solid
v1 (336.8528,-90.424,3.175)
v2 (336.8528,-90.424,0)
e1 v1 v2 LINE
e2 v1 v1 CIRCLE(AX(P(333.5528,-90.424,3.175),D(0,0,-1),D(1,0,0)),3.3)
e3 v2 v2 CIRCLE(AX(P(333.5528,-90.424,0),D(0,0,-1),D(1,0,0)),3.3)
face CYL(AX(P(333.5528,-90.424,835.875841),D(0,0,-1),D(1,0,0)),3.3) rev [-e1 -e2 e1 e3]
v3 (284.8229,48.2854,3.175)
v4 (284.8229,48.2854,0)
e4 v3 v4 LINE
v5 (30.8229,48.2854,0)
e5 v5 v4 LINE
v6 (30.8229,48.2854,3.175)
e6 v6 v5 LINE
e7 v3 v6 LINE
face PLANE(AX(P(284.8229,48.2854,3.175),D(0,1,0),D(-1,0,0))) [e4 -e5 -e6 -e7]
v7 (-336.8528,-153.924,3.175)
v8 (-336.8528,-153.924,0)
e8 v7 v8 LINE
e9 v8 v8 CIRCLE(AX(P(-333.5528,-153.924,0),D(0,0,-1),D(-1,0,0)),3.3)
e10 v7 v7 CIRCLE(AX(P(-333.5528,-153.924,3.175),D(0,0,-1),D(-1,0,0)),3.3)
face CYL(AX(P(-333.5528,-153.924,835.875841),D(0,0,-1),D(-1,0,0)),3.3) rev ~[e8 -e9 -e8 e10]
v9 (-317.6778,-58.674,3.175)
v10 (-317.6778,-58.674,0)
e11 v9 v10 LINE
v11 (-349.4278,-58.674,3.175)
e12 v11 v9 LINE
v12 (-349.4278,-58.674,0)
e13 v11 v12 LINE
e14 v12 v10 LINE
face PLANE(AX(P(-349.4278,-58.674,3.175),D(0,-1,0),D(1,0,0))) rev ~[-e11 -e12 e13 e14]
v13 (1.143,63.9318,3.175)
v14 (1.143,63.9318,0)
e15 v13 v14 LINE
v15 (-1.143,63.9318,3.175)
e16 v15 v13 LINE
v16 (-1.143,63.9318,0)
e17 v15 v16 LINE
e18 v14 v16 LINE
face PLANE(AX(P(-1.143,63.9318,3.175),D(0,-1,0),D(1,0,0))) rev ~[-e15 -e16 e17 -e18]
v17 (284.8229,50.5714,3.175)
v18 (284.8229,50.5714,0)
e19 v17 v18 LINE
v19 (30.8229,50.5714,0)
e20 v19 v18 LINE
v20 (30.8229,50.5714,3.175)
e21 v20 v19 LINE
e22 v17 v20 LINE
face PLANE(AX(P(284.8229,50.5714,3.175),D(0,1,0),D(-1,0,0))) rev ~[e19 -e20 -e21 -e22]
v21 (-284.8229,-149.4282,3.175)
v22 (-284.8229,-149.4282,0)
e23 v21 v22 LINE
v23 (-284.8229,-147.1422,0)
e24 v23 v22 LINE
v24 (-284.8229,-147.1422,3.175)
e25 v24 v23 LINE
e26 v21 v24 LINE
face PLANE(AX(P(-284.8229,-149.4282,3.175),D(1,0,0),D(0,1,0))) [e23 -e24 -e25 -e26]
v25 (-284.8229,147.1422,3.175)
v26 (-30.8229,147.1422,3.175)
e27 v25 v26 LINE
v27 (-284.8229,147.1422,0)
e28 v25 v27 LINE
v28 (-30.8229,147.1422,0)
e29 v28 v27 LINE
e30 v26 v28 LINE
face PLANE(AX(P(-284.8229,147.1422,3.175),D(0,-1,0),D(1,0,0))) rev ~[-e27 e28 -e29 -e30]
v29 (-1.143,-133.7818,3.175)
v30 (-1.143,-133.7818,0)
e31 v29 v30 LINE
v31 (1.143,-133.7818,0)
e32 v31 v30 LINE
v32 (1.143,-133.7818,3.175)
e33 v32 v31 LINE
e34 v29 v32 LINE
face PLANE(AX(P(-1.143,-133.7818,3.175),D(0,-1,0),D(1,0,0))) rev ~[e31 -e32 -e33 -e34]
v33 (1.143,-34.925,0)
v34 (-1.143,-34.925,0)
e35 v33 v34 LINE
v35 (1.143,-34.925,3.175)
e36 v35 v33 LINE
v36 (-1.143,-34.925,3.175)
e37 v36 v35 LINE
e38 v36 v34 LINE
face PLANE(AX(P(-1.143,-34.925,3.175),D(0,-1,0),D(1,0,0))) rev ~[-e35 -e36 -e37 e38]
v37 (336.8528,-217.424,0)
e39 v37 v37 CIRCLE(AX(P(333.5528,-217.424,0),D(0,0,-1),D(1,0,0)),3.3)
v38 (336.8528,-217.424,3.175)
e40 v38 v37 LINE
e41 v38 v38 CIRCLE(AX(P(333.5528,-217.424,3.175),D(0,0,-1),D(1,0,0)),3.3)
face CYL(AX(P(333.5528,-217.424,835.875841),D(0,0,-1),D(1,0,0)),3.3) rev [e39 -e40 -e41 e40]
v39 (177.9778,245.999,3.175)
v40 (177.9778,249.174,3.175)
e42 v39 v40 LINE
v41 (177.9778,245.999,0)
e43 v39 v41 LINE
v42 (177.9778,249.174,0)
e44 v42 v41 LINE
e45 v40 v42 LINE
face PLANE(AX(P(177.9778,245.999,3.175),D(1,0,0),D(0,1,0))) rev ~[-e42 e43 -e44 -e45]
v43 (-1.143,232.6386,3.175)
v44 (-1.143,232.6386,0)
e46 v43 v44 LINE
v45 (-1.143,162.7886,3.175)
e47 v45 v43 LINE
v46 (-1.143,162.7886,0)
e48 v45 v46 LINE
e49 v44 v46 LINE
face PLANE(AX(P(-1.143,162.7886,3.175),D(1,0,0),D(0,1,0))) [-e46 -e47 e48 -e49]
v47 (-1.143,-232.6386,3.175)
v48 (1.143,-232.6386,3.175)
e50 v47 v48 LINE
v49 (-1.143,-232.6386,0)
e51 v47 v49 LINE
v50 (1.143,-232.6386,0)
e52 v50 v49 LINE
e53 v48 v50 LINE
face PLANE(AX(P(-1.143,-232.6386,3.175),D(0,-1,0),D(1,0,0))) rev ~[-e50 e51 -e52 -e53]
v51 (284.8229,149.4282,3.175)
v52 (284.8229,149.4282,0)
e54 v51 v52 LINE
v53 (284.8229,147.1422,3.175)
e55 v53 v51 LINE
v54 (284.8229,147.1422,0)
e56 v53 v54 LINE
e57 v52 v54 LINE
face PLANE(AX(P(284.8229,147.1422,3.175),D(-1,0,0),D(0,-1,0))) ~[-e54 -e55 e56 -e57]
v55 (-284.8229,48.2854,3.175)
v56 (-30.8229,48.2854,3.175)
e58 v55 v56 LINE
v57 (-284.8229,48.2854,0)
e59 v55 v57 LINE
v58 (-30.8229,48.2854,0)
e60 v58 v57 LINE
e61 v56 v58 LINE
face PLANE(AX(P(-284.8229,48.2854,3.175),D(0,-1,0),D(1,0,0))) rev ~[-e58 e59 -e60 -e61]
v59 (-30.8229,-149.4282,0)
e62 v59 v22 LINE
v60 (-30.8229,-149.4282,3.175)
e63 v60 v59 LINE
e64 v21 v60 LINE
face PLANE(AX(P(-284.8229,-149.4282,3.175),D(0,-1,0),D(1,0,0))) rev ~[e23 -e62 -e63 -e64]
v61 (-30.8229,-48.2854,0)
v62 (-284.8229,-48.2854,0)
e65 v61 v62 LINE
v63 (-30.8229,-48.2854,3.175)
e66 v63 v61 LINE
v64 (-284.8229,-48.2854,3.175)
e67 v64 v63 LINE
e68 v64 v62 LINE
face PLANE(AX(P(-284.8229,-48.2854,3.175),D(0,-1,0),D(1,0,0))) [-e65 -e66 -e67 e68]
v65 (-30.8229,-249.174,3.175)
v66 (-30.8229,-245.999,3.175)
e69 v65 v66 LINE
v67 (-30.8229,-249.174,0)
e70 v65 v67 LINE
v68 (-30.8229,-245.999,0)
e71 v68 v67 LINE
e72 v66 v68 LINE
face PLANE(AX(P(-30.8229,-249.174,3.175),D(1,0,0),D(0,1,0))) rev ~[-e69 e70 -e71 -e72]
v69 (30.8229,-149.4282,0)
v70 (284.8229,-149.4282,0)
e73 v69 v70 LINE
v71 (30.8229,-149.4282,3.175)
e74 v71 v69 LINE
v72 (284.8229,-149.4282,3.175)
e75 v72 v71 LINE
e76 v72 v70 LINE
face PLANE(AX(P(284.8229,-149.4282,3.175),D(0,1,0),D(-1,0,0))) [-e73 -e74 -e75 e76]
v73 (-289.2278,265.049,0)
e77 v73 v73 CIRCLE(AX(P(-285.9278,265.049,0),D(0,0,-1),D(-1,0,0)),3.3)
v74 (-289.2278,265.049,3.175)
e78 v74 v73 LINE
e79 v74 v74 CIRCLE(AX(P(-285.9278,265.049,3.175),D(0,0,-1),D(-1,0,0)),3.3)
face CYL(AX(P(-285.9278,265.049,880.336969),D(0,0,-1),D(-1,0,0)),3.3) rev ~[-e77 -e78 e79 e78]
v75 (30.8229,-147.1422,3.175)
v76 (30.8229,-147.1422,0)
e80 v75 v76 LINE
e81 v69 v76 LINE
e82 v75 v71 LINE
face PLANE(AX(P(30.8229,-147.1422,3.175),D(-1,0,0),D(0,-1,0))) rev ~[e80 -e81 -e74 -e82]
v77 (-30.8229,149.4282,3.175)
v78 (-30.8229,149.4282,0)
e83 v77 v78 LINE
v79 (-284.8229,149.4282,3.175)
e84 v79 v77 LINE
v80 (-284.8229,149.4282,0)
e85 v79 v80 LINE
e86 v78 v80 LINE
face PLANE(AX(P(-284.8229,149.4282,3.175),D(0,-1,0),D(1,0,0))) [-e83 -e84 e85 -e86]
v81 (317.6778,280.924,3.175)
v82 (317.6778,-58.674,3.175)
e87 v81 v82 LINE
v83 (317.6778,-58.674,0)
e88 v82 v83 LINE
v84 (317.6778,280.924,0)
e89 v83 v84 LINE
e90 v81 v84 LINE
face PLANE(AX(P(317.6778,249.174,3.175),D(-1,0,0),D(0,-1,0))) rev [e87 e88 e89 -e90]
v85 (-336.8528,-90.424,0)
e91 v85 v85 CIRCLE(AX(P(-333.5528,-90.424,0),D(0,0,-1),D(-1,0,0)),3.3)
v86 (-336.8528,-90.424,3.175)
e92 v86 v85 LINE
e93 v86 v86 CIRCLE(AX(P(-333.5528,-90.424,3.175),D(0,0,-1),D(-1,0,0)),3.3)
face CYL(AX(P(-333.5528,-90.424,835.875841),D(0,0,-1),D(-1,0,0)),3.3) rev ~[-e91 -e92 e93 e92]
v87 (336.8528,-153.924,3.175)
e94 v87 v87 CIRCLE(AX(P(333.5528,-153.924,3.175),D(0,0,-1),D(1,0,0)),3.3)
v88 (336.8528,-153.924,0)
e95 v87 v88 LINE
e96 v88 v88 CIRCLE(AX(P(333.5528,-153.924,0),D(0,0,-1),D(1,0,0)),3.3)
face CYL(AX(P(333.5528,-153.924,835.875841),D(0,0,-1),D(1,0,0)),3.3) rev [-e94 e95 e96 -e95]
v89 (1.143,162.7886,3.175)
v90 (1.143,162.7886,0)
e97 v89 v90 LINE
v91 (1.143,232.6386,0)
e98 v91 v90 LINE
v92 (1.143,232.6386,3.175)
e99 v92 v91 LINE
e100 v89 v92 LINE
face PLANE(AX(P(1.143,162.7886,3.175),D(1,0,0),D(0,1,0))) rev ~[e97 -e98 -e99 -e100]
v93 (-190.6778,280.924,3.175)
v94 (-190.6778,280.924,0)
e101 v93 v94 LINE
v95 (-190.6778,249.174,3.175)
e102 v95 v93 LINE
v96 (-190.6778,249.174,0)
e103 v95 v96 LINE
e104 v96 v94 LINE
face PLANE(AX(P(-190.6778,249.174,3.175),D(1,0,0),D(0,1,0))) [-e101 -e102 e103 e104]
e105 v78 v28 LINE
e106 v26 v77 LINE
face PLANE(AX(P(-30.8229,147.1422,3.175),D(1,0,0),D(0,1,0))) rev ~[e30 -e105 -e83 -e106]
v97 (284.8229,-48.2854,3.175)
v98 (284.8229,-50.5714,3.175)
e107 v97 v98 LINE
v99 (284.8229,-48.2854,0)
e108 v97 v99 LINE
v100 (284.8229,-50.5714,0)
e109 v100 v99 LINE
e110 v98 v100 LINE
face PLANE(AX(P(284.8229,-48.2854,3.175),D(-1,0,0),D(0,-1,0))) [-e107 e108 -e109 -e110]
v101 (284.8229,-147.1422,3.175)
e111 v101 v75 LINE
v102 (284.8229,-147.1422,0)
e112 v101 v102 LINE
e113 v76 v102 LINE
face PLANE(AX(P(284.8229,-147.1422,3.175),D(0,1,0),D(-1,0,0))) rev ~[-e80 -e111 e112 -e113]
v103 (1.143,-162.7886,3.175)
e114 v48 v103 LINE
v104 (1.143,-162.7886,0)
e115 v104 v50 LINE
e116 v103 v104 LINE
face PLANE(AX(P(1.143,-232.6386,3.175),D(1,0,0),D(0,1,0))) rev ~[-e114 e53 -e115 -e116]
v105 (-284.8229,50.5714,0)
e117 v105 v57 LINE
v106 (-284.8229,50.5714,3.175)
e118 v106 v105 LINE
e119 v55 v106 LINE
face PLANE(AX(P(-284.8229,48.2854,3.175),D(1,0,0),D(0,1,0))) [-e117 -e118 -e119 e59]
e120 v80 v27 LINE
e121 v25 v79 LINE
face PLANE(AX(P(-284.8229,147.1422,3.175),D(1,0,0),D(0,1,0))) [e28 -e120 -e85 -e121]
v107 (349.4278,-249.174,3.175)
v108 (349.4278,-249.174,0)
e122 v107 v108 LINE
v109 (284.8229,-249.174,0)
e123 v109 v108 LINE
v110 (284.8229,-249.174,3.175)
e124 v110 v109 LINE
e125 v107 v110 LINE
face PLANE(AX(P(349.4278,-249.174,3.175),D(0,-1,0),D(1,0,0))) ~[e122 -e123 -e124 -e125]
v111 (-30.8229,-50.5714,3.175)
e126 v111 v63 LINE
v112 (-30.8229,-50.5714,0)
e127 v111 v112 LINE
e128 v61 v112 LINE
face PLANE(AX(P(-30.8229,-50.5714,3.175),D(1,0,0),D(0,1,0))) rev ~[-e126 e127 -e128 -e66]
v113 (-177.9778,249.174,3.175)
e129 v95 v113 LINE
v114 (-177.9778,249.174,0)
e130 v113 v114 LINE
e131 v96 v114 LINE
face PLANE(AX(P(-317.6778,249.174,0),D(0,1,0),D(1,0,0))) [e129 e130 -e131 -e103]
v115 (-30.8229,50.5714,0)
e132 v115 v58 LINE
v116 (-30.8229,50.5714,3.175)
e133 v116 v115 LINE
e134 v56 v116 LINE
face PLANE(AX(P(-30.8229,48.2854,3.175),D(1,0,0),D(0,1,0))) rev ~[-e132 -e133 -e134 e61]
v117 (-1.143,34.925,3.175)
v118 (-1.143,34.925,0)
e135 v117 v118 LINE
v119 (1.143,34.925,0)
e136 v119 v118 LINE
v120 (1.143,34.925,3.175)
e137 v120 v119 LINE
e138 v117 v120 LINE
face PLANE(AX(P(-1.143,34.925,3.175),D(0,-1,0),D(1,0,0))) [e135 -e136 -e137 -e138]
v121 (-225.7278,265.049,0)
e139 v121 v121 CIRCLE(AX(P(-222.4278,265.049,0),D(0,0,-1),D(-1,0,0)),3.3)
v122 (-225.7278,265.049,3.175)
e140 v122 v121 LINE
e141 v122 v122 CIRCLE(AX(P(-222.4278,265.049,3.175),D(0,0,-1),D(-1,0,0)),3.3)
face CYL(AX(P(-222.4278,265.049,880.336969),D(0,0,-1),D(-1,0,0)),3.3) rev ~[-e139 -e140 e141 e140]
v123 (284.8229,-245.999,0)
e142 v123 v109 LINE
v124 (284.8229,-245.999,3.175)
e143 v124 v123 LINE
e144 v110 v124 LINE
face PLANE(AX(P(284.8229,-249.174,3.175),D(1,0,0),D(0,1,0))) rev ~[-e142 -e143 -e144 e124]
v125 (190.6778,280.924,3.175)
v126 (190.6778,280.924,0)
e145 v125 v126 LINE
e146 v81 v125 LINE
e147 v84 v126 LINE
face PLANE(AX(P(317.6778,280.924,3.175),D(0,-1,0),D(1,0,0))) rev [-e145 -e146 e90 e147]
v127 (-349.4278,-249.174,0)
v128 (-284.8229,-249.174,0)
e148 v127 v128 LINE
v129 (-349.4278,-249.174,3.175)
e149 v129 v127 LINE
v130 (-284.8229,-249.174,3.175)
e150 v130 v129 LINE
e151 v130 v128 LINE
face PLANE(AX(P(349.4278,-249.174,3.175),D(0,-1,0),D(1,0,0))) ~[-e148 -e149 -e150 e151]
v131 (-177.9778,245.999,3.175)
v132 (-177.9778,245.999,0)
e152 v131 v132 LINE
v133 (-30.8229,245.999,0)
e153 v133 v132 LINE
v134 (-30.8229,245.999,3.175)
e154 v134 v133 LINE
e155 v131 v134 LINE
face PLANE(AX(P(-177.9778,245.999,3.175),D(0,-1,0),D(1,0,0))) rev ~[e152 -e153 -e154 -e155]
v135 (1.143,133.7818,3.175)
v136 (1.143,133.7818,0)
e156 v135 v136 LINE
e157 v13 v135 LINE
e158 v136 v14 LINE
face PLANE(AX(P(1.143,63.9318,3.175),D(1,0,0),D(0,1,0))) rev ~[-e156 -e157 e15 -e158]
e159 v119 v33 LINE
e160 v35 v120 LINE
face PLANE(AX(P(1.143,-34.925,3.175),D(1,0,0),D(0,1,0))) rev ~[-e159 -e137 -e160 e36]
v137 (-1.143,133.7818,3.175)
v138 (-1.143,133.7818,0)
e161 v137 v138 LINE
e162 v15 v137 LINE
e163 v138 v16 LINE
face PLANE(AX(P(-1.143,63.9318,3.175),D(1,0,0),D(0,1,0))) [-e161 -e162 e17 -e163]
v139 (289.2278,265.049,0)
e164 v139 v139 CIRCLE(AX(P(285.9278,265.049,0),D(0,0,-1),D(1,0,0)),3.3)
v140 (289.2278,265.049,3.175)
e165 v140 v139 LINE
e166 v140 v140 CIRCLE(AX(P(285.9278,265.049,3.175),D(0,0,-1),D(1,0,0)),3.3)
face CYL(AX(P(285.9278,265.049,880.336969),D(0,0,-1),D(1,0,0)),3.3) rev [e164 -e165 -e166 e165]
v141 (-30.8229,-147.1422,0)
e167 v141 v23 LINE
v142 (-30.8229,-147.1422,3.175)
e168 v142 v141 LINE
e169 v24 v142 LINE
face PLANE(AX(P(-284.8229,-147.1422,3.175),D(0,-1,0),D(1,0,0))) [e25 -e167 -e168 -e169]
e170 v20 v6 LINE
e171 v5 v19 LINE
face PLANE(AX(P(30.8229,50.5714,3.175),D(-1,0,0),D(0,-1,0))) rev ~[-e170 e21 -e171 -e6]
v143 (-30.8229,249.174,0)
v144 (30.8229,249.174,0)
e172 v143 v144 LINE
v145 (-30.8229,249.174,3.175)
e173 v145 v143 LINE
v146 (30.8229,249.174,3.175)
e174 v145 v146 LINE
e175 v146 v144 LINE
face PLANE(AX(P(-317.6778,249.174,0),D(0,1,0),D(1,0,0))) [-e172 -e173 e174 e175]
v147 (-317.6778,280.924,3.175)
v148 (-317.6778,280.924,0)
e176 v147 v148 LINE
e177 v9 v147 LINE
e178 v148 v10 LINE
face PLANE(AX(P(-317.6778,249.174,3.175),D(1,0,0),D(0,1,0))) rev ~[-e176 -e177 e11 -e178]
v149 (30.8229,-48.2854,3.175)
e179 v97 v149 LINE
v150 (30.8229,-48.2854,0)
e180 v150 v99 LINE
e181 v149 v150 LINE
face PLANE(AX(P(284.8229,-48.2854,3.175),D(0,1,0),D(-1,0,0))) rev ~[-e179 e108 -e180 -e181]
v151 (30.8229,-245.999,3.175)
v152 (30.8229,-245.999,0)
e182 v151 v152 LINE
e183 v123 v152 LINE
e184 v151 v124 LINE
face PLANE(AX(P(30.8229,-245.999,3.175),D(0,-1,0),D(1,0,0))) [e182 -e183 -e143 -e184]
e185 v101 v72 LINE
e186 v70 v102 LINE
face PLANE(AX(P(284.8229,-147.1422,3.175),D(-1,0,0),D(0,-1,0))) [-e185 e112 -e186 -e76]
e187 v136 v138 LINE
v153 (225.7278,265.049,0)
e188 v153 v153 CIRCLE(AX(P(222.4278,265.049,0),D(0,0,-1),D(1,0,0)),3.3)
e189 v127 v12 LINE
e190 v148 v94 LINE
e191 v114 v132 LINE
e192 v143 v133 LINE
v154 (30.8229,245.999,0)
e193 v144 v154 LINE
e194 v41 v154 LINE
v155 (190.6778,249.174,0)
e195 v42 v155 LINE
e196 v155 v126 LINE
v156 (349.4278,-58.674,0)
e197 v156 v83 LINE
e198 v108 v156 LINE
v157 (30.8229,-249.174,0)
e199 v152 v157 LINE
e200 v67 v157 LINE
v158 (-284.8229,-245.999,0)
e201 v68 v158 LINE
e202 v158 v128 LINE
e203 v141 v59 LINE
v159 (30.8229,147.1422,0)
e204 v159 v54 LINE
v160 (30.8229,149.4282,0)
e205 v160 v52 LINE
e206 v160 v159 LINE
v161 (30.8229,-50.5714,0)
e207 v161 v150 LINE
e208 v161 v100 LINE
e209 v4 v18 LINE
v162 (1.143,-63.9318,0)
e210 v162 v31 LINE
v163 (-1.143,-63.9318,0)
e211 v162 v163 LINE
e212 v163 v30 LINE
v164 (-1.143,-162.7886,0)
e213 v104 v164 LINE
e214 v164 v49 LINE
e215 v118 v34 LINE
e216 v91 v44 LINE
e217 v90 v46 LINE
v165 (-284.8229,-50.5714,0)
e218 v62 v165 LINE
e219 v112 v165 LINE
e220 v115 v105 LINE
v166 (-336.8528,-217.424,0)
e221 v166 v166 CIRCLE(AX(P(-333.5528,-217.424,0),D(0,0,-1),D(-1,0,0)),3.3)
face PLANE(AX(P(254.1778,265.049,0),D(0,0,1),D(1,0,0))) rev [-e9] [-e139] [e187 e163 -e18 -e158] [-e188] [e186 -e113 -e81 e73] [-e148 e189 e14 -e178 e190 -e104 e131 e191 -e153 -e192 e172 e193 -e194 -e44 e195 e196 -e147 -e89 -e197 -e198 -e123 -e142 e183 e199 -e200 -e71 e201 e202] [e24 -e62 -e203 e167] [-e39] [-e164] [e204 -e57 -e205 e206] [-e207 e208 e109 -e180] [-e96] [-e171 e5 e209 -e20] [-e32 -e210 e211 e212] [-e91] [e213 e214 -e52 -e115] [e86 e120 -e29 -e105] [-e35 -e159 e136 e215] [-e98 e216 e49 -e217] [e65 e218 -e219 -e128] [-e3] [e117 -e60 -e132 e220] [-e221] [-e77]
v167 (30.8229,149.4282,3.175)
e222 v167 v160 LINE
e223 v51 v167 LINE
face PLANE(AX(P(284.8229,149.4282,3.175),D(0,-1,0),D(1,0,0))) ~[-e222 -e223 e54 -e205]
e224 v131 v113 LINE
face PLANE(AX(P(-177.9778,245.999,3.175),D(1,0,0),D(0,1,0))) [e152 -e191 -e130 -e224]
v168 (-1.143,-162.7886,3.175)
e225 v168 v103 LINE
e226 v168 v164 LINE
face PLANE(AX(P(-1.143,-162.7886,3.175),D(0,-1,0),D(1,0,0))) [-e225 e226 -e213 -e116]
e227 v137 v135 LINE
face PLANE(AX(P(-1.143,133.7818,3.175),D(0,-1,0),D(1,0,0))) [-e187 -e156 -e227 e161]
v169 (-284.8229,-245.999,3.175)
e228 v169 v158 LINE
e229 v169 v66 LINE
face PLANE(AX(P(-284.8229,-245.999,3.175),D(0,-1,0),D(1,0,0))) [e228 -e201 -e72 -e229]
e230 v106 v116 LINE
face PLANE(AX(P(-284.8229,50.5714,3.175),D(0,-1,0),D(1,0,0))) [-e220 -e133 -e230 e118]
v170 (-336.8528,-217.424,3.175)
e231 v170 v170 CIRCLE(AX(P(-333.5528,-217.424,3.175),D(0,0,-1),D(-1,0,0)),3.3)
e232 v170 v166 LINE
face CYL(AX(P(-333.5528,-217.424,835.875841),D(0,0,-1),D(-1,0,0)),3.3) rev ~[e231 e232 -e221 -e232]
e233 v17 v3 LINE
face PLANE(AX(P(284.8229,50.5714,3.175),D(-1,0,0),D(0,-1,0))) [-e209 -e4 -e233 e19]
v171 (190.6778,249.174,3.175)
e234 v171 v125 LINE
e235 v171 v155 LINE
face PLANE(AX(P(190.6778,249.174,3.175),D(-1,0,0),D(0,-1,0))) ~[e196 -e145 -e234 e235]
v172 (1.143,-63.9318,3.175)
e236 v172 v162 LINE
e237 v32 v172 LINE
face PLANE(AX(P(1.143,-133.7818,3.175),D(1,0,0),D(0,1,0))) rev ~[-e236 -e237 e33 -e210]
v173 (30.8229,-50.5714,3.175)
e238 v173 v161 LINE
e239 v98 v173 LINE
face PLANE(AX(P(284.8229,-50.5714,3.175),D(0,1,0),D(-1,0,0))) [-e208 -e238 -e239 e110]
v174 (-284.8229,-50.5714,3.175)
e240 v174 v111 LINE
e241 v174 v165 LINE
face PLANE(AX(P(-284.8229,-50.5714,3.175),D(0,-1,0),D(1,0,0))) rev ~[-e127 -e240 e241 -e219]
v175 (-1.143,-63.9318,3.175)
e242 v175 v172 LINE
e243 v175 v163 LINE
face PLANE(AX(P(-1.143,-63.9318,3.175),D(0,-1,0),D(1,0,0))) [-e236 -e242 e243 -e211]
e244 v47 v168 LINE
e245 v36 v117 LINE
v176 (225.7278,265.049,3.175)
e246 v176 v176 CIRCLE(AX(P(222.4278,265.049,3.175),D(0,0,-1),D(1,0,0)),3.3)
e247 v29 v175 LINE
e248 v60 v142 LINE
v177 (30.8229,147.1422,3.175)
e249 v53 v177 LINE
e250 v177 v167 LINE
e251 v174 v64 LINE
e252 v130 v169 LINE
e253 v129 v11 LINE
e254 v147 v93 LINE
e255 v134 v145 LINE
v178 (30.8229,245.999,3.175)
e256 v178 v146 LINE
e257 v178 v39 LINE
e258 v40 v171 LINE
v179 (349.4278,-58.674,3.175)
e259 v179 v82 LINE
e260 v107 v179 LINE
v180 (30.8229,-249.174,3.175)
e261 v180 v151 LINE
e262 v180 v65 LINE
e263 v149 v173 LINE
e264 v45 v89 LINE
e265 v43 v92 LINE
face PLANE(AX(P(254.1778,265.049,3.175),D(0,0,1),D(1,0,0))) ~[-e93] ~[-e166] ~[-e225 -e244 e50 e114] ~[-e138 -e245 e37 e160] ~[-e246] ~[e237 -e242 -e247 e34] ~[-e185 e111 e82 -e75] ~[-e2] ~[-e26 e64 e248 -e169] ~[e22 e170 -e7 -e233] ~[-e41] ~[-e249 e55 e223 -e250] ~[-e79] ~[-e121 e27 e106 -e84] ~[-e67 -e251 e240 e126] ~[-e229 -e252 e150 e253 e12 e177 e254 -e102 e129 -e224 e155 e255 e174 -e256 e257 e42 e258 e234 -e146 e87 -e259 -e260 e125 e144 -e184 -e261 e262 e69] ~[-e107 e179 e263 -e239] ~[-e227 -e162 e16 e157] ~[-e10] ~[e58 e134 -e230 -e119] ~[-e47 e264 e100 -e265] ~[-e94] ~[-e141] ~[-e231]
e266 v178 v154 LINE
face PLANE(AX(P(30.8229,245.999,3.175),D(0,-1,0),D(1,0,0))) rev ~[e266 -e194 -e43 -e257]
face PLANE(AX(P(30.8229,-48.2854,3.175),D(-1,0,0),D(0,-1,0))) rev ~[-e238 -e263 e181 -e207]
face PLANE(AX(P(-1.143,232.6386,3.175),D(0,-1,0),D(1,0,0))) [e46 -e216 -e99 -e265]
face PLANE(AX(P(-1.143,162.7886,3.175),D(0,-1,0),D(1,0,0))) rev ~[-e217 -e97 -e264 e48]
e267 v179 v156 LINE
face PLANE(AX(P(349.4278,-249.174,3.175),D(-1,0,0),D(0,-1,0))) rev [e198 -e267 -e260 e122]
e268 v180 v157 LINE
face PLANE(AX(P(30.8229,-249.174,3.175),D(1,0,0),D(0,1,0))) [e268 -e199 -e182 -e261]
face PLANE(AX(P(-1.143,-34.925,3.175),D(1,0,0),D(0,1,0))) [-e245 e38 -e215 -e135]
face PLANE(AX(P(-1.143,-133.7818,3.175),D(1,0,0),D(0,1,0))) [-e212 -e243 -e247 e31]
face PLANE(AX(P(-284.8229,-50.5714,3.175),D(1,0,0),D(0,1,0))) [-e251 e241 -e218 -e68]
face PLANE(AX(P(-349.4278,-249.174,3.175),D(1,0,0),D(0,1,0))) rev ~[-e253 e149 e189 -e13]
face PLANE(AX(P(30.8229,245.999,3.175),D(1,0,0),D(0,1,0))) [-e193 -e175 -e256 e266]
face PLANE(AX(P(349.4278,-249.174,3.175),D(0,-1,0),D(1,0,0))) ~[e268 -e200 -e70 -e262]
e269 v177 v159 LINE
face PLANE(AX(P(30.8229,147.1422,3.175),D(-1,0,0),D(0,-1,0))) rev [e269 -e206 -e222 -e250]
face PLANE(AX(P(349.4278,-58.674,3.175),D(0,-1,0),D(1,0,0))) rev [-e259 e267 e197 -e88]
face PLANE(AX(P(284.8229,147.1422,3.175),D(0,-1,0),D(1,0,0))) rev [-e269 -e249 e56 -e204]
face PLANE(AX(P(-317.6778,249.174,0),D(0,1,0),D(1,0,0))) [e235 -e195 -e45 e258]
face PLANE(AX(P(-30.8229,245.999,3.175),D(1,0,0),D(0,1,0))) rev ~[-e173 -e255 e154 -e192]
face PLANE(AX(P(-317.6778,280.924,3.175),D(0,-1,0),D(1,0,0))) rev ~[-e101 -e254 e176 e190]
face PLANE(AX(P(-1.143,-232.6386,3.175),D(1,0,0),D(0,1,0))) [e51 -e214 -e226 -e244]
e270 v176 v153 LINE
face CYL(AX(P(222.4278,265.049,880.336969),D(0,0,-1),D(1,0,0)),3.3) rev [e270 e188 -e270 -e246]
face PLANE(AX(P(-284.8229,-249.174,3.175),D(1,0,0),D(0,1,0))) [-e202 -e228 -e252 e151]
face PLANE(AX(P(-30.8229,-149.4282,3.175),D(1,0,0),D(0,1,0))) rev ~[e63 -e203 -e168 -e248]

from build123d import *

# Parameters (mm, degrees)
MASTER_SKETCH_W         = 635.3556
MASTER_SKETCH_H         = 498.348
BOSS_EXTRUDE1_DEPTH     = 3.175
SKETCH2_W               = 31.75
SKETCH2_H               = 190.5
BOSS_EXTRUDE2_DEPTH     = 3.175
M6_CLEARANCE_HOLE1_D    = 6.6
SKETCH5_W               = 2.286
SKETCH5_H               = 69.85
CUT_EXTRUDE1_DEPTH      = 430.182420788
LPATTERN1_COUNT         = 5
LPATTERN1_PITCH         = 98.8568
SKETCH7_W               = 254
SKETCH7_H               = 2.286
CUT_EXTRUDE3_DEPTH      = 430.182420788
LPATTERN2_COUNT         = 4
LPATTERN2_PITCH         = 98.8568
MIRROR4_COPY_1_SKETCH_W = 254
MIRROR4_COPY_1_SKETCH_H = 2.286
MIRROR4_COPY_1_DEPTH    = 430.182420788
MIRROR4_COPY_2_SKETCH_W = 254
MIRROR4_COPY_2_SKETCH_H = 2.286
MIRROR4_COPY_2_DEPTH    = 430.182420788
MIRROR4_COPY_3_SKETCH_W = 254
MIRROR4_COPY_3_SKETCH_H = 2.286
MIRROR4_COPY_3_DEPTH    = 430.182420788
SKETCH10_W              = 127
SKETCH10_H              = 31.75
BOSS_EXTRUDE3_DEPTH     = 3.175
M6_CLEARANCE_HOLE2_D    = 6.6
SKETCH6_W               = 254
SKETCH6_H               = 3.175
SKETCH6_W_2             = 147.1549
CUT_EXTRUDE2_DEPTH      = 449.361641774


with BuildPart() as part:
    # Master Sketch → Boss-Extrude1 (new body)
    with BuildSketch(Plane.XY):
        Rectangle(MASTER_SKETCH_W, MASTER_SKETCH_H)
    extrude(amount=BOSS_EXTRUDE1_DEPTH)

    # Sketch2 → Boss-Extrude2 (add)
    with BuildSketch(Plane.XY.offset(3.175)):
        with Locations((-333.5528, -153.924)):
            Rectangle(SKETCH2_W, SKETCH2_H)
    boss_extrude2 = extrude(amount=-BOSS_EXTRUDE2_DEPTH)

    # M6 Clearance Hole1 (through all)
    with Locations(Plane.XY.offset(3.175)):
        with Locations((-333.5528, -90.424), (-333.5528, -153.924), (-333.5528, -217.424)):
            m6_clearance_hole1 = Hole(M6_CLEARANCE_HOLE1_D / 2)

    # Mirror1: Boss-Extrude2, M6 Clearance Hole1 across plane
    add(boss_extrude2.mirror(Plane(origin=(0, 0, 0), x_dir=(0, 0, 1), z_dir=(1, 0, 0))))
    add(m6_clearance_hole1.mirror(Plane(origin=(0, 0, 0), x_dir=(0, 0, 1), z_dir=(1, 0, 0))), mode=Mode.SUBTRACT)

    # Sketch5 → Cut-Extrude1 (cut, through all)
    with BuildSketch(Plane.XY.offset(3.175)):
        with Locations((0, 197.7136)):
            Rectangle(SKETCH5_W, SKETCH5_H)
    cut_extrude1 = extrude(amount=-CUT_EXTRUDE1_DEPTH, mode=Mode.SUBTRACT)

    # LPattern1: Cut-Extrude1 ×5
    with Locations(*[(0, -i * LPATTERN1_PITCH, 0) for i in range(1, LPATTERN1_COUNT)]):
        add(cut_extrude1, mode=Mode.SUBTRACT)

    # Sketch7 → Cut-Extrude3 (cut, through all)
    with BuildSketch(Plane.XY.offset(3.175)):
        with Locations((-157.8229, 148.2852)):
            Rectangle(SKETCH7_W, SKETCH7_H)
    cut_extrude3 = extrude(amount=-CUT_EXTRUDE3_DEPTH, mode=Mode.SUBTRACT)

    # LPattern2: Cut-Extrude3 ×4
    with Locations(*[(0, -i * LPATTERN2_PITCH, 0) for i in range(1, LPATTERN2_COUNT)]):
        add(cut_extrude3, mode=Mode.SUBTRACT)

    # Mirror4: Cut-Extrude3 across plane
    add(cut_extrude3.mirror(Plane(origin=(0, 0, 0), x_dir=(0, 0, 1), z_dir=(1, 0, 0))), mode=Mode.SUBTRACT)

    # Mirror4 copy 1 sketch → Mirror4 copy 1 (cut, through all)
    with BuildSketch(Plane(origin=(0, -98.8568, 3.175), x_dir=(-1, 0, 0), z_dir=(0, 0, 1))):
        with Locations((-157.8229, -148.2852)):
            Rectangle(MIRROR4_COPY_1_SKETCH_W, MIRROR4_COPY_1_SKETCH_H)
    extrude(amount=-MIRROR4_COPY_1_DEPTH, mode=Mode.SUBTRACT)

    # Mirror4 copy 2 sketch → Mirror4 copy 2 (cut, through all)
    with BuildSketch(Plane(origin=(0, -197.7136, 3.175), x_dir=(-1, 0, 0), z_dir=(0, 0, 1))):
        with Locations((-157.8229, -148.2852)):
            Rectangle(MIRROR4_COPY_2_SKETCH_W, MIRROR4_COPY_2_SKETCH_H)
    extrude(amount=-MIRROR4_COPY_2_DEPTH, mode=Mode.SUBTRACT)

    # Mirror4 copy 3 sketch → Mirror4 copy 3 (cut, through all)
    with BuildSketch(Plane(origin=(0, -296.5704, 3.175), x_dir=(-1, 0, 0), z_dir=(0, 0, 1))):
        with Locations((-157.8229, -148.2852)):
            Rectangle(MIRROR4_COPY_3_SKETCH_W, MIRROR4_COPY_3_SKETCH_H)
    extrude(amount=-MIRROR4_COPY_3_DEPTH, mode=Mode.SUBTRACT)

    # Sketch10 → Boss-Extrude3 (add)
    with BuildSketch(Plane.XY.offset(3.175)):
        with Locations((-254.1778, 265.049)):
            Rectangle(SKETCH10_W, SKETCH10_H)
    boss_extrude3 = extrude(amount=-BOSS_EXTRUDE3_DEPTH)

    # M6 Clearance Hole2 (through all)
    with Locations(Plane.XY.offset(3.175)):
        with Locations((-285.9278, 265.049), (-222.4278, 265.049)):
            m6_clearance_hole2 = Hole(M6_CLEARANCE_HOLE2_D / 2)

    # Mirror6: Boss-Extrude3, M6 Clearance Hole2 across plane
    add(boss_extrude3.mirror(Plane(origin=(0, 0, 0), x_dir=(0, 0, 1), z_dir=(1, 0, 0))))
    add(m6_clearance_hole2.mirror(Plane(origin=(0, 0, 0), x_dir=(0, 0, 1), z_dir=(1, 0, 0))), mode=Mode.SUBTRACT)

    # Sketch6 → Cut-Extrude2 (cut, through all)
    with BuildSketch(Plane.XY.offset(3.175)):
        with Locations((-157.8229, -247.5865)):
            Rectangle(SKETCH6_W, SKETCH6_H)
        with Locations((157.8229, -247.5865)):
            Rectangle(SKETCH6_W, SKETCH6_H)
        with Locations((-104.40035, 247.5865)):
            Rectangle(SKETCH6_W_2, SKETCH6_H)
        with Locations((104.40035, 247.5865)):
            Rectangle(SKETCH6_W_2, SKETCH6_H)
    extrude(amount=-CUT_EXTRUDE2_DEPTH, mode=Mode.SUBTRACT)


solid = part.part
